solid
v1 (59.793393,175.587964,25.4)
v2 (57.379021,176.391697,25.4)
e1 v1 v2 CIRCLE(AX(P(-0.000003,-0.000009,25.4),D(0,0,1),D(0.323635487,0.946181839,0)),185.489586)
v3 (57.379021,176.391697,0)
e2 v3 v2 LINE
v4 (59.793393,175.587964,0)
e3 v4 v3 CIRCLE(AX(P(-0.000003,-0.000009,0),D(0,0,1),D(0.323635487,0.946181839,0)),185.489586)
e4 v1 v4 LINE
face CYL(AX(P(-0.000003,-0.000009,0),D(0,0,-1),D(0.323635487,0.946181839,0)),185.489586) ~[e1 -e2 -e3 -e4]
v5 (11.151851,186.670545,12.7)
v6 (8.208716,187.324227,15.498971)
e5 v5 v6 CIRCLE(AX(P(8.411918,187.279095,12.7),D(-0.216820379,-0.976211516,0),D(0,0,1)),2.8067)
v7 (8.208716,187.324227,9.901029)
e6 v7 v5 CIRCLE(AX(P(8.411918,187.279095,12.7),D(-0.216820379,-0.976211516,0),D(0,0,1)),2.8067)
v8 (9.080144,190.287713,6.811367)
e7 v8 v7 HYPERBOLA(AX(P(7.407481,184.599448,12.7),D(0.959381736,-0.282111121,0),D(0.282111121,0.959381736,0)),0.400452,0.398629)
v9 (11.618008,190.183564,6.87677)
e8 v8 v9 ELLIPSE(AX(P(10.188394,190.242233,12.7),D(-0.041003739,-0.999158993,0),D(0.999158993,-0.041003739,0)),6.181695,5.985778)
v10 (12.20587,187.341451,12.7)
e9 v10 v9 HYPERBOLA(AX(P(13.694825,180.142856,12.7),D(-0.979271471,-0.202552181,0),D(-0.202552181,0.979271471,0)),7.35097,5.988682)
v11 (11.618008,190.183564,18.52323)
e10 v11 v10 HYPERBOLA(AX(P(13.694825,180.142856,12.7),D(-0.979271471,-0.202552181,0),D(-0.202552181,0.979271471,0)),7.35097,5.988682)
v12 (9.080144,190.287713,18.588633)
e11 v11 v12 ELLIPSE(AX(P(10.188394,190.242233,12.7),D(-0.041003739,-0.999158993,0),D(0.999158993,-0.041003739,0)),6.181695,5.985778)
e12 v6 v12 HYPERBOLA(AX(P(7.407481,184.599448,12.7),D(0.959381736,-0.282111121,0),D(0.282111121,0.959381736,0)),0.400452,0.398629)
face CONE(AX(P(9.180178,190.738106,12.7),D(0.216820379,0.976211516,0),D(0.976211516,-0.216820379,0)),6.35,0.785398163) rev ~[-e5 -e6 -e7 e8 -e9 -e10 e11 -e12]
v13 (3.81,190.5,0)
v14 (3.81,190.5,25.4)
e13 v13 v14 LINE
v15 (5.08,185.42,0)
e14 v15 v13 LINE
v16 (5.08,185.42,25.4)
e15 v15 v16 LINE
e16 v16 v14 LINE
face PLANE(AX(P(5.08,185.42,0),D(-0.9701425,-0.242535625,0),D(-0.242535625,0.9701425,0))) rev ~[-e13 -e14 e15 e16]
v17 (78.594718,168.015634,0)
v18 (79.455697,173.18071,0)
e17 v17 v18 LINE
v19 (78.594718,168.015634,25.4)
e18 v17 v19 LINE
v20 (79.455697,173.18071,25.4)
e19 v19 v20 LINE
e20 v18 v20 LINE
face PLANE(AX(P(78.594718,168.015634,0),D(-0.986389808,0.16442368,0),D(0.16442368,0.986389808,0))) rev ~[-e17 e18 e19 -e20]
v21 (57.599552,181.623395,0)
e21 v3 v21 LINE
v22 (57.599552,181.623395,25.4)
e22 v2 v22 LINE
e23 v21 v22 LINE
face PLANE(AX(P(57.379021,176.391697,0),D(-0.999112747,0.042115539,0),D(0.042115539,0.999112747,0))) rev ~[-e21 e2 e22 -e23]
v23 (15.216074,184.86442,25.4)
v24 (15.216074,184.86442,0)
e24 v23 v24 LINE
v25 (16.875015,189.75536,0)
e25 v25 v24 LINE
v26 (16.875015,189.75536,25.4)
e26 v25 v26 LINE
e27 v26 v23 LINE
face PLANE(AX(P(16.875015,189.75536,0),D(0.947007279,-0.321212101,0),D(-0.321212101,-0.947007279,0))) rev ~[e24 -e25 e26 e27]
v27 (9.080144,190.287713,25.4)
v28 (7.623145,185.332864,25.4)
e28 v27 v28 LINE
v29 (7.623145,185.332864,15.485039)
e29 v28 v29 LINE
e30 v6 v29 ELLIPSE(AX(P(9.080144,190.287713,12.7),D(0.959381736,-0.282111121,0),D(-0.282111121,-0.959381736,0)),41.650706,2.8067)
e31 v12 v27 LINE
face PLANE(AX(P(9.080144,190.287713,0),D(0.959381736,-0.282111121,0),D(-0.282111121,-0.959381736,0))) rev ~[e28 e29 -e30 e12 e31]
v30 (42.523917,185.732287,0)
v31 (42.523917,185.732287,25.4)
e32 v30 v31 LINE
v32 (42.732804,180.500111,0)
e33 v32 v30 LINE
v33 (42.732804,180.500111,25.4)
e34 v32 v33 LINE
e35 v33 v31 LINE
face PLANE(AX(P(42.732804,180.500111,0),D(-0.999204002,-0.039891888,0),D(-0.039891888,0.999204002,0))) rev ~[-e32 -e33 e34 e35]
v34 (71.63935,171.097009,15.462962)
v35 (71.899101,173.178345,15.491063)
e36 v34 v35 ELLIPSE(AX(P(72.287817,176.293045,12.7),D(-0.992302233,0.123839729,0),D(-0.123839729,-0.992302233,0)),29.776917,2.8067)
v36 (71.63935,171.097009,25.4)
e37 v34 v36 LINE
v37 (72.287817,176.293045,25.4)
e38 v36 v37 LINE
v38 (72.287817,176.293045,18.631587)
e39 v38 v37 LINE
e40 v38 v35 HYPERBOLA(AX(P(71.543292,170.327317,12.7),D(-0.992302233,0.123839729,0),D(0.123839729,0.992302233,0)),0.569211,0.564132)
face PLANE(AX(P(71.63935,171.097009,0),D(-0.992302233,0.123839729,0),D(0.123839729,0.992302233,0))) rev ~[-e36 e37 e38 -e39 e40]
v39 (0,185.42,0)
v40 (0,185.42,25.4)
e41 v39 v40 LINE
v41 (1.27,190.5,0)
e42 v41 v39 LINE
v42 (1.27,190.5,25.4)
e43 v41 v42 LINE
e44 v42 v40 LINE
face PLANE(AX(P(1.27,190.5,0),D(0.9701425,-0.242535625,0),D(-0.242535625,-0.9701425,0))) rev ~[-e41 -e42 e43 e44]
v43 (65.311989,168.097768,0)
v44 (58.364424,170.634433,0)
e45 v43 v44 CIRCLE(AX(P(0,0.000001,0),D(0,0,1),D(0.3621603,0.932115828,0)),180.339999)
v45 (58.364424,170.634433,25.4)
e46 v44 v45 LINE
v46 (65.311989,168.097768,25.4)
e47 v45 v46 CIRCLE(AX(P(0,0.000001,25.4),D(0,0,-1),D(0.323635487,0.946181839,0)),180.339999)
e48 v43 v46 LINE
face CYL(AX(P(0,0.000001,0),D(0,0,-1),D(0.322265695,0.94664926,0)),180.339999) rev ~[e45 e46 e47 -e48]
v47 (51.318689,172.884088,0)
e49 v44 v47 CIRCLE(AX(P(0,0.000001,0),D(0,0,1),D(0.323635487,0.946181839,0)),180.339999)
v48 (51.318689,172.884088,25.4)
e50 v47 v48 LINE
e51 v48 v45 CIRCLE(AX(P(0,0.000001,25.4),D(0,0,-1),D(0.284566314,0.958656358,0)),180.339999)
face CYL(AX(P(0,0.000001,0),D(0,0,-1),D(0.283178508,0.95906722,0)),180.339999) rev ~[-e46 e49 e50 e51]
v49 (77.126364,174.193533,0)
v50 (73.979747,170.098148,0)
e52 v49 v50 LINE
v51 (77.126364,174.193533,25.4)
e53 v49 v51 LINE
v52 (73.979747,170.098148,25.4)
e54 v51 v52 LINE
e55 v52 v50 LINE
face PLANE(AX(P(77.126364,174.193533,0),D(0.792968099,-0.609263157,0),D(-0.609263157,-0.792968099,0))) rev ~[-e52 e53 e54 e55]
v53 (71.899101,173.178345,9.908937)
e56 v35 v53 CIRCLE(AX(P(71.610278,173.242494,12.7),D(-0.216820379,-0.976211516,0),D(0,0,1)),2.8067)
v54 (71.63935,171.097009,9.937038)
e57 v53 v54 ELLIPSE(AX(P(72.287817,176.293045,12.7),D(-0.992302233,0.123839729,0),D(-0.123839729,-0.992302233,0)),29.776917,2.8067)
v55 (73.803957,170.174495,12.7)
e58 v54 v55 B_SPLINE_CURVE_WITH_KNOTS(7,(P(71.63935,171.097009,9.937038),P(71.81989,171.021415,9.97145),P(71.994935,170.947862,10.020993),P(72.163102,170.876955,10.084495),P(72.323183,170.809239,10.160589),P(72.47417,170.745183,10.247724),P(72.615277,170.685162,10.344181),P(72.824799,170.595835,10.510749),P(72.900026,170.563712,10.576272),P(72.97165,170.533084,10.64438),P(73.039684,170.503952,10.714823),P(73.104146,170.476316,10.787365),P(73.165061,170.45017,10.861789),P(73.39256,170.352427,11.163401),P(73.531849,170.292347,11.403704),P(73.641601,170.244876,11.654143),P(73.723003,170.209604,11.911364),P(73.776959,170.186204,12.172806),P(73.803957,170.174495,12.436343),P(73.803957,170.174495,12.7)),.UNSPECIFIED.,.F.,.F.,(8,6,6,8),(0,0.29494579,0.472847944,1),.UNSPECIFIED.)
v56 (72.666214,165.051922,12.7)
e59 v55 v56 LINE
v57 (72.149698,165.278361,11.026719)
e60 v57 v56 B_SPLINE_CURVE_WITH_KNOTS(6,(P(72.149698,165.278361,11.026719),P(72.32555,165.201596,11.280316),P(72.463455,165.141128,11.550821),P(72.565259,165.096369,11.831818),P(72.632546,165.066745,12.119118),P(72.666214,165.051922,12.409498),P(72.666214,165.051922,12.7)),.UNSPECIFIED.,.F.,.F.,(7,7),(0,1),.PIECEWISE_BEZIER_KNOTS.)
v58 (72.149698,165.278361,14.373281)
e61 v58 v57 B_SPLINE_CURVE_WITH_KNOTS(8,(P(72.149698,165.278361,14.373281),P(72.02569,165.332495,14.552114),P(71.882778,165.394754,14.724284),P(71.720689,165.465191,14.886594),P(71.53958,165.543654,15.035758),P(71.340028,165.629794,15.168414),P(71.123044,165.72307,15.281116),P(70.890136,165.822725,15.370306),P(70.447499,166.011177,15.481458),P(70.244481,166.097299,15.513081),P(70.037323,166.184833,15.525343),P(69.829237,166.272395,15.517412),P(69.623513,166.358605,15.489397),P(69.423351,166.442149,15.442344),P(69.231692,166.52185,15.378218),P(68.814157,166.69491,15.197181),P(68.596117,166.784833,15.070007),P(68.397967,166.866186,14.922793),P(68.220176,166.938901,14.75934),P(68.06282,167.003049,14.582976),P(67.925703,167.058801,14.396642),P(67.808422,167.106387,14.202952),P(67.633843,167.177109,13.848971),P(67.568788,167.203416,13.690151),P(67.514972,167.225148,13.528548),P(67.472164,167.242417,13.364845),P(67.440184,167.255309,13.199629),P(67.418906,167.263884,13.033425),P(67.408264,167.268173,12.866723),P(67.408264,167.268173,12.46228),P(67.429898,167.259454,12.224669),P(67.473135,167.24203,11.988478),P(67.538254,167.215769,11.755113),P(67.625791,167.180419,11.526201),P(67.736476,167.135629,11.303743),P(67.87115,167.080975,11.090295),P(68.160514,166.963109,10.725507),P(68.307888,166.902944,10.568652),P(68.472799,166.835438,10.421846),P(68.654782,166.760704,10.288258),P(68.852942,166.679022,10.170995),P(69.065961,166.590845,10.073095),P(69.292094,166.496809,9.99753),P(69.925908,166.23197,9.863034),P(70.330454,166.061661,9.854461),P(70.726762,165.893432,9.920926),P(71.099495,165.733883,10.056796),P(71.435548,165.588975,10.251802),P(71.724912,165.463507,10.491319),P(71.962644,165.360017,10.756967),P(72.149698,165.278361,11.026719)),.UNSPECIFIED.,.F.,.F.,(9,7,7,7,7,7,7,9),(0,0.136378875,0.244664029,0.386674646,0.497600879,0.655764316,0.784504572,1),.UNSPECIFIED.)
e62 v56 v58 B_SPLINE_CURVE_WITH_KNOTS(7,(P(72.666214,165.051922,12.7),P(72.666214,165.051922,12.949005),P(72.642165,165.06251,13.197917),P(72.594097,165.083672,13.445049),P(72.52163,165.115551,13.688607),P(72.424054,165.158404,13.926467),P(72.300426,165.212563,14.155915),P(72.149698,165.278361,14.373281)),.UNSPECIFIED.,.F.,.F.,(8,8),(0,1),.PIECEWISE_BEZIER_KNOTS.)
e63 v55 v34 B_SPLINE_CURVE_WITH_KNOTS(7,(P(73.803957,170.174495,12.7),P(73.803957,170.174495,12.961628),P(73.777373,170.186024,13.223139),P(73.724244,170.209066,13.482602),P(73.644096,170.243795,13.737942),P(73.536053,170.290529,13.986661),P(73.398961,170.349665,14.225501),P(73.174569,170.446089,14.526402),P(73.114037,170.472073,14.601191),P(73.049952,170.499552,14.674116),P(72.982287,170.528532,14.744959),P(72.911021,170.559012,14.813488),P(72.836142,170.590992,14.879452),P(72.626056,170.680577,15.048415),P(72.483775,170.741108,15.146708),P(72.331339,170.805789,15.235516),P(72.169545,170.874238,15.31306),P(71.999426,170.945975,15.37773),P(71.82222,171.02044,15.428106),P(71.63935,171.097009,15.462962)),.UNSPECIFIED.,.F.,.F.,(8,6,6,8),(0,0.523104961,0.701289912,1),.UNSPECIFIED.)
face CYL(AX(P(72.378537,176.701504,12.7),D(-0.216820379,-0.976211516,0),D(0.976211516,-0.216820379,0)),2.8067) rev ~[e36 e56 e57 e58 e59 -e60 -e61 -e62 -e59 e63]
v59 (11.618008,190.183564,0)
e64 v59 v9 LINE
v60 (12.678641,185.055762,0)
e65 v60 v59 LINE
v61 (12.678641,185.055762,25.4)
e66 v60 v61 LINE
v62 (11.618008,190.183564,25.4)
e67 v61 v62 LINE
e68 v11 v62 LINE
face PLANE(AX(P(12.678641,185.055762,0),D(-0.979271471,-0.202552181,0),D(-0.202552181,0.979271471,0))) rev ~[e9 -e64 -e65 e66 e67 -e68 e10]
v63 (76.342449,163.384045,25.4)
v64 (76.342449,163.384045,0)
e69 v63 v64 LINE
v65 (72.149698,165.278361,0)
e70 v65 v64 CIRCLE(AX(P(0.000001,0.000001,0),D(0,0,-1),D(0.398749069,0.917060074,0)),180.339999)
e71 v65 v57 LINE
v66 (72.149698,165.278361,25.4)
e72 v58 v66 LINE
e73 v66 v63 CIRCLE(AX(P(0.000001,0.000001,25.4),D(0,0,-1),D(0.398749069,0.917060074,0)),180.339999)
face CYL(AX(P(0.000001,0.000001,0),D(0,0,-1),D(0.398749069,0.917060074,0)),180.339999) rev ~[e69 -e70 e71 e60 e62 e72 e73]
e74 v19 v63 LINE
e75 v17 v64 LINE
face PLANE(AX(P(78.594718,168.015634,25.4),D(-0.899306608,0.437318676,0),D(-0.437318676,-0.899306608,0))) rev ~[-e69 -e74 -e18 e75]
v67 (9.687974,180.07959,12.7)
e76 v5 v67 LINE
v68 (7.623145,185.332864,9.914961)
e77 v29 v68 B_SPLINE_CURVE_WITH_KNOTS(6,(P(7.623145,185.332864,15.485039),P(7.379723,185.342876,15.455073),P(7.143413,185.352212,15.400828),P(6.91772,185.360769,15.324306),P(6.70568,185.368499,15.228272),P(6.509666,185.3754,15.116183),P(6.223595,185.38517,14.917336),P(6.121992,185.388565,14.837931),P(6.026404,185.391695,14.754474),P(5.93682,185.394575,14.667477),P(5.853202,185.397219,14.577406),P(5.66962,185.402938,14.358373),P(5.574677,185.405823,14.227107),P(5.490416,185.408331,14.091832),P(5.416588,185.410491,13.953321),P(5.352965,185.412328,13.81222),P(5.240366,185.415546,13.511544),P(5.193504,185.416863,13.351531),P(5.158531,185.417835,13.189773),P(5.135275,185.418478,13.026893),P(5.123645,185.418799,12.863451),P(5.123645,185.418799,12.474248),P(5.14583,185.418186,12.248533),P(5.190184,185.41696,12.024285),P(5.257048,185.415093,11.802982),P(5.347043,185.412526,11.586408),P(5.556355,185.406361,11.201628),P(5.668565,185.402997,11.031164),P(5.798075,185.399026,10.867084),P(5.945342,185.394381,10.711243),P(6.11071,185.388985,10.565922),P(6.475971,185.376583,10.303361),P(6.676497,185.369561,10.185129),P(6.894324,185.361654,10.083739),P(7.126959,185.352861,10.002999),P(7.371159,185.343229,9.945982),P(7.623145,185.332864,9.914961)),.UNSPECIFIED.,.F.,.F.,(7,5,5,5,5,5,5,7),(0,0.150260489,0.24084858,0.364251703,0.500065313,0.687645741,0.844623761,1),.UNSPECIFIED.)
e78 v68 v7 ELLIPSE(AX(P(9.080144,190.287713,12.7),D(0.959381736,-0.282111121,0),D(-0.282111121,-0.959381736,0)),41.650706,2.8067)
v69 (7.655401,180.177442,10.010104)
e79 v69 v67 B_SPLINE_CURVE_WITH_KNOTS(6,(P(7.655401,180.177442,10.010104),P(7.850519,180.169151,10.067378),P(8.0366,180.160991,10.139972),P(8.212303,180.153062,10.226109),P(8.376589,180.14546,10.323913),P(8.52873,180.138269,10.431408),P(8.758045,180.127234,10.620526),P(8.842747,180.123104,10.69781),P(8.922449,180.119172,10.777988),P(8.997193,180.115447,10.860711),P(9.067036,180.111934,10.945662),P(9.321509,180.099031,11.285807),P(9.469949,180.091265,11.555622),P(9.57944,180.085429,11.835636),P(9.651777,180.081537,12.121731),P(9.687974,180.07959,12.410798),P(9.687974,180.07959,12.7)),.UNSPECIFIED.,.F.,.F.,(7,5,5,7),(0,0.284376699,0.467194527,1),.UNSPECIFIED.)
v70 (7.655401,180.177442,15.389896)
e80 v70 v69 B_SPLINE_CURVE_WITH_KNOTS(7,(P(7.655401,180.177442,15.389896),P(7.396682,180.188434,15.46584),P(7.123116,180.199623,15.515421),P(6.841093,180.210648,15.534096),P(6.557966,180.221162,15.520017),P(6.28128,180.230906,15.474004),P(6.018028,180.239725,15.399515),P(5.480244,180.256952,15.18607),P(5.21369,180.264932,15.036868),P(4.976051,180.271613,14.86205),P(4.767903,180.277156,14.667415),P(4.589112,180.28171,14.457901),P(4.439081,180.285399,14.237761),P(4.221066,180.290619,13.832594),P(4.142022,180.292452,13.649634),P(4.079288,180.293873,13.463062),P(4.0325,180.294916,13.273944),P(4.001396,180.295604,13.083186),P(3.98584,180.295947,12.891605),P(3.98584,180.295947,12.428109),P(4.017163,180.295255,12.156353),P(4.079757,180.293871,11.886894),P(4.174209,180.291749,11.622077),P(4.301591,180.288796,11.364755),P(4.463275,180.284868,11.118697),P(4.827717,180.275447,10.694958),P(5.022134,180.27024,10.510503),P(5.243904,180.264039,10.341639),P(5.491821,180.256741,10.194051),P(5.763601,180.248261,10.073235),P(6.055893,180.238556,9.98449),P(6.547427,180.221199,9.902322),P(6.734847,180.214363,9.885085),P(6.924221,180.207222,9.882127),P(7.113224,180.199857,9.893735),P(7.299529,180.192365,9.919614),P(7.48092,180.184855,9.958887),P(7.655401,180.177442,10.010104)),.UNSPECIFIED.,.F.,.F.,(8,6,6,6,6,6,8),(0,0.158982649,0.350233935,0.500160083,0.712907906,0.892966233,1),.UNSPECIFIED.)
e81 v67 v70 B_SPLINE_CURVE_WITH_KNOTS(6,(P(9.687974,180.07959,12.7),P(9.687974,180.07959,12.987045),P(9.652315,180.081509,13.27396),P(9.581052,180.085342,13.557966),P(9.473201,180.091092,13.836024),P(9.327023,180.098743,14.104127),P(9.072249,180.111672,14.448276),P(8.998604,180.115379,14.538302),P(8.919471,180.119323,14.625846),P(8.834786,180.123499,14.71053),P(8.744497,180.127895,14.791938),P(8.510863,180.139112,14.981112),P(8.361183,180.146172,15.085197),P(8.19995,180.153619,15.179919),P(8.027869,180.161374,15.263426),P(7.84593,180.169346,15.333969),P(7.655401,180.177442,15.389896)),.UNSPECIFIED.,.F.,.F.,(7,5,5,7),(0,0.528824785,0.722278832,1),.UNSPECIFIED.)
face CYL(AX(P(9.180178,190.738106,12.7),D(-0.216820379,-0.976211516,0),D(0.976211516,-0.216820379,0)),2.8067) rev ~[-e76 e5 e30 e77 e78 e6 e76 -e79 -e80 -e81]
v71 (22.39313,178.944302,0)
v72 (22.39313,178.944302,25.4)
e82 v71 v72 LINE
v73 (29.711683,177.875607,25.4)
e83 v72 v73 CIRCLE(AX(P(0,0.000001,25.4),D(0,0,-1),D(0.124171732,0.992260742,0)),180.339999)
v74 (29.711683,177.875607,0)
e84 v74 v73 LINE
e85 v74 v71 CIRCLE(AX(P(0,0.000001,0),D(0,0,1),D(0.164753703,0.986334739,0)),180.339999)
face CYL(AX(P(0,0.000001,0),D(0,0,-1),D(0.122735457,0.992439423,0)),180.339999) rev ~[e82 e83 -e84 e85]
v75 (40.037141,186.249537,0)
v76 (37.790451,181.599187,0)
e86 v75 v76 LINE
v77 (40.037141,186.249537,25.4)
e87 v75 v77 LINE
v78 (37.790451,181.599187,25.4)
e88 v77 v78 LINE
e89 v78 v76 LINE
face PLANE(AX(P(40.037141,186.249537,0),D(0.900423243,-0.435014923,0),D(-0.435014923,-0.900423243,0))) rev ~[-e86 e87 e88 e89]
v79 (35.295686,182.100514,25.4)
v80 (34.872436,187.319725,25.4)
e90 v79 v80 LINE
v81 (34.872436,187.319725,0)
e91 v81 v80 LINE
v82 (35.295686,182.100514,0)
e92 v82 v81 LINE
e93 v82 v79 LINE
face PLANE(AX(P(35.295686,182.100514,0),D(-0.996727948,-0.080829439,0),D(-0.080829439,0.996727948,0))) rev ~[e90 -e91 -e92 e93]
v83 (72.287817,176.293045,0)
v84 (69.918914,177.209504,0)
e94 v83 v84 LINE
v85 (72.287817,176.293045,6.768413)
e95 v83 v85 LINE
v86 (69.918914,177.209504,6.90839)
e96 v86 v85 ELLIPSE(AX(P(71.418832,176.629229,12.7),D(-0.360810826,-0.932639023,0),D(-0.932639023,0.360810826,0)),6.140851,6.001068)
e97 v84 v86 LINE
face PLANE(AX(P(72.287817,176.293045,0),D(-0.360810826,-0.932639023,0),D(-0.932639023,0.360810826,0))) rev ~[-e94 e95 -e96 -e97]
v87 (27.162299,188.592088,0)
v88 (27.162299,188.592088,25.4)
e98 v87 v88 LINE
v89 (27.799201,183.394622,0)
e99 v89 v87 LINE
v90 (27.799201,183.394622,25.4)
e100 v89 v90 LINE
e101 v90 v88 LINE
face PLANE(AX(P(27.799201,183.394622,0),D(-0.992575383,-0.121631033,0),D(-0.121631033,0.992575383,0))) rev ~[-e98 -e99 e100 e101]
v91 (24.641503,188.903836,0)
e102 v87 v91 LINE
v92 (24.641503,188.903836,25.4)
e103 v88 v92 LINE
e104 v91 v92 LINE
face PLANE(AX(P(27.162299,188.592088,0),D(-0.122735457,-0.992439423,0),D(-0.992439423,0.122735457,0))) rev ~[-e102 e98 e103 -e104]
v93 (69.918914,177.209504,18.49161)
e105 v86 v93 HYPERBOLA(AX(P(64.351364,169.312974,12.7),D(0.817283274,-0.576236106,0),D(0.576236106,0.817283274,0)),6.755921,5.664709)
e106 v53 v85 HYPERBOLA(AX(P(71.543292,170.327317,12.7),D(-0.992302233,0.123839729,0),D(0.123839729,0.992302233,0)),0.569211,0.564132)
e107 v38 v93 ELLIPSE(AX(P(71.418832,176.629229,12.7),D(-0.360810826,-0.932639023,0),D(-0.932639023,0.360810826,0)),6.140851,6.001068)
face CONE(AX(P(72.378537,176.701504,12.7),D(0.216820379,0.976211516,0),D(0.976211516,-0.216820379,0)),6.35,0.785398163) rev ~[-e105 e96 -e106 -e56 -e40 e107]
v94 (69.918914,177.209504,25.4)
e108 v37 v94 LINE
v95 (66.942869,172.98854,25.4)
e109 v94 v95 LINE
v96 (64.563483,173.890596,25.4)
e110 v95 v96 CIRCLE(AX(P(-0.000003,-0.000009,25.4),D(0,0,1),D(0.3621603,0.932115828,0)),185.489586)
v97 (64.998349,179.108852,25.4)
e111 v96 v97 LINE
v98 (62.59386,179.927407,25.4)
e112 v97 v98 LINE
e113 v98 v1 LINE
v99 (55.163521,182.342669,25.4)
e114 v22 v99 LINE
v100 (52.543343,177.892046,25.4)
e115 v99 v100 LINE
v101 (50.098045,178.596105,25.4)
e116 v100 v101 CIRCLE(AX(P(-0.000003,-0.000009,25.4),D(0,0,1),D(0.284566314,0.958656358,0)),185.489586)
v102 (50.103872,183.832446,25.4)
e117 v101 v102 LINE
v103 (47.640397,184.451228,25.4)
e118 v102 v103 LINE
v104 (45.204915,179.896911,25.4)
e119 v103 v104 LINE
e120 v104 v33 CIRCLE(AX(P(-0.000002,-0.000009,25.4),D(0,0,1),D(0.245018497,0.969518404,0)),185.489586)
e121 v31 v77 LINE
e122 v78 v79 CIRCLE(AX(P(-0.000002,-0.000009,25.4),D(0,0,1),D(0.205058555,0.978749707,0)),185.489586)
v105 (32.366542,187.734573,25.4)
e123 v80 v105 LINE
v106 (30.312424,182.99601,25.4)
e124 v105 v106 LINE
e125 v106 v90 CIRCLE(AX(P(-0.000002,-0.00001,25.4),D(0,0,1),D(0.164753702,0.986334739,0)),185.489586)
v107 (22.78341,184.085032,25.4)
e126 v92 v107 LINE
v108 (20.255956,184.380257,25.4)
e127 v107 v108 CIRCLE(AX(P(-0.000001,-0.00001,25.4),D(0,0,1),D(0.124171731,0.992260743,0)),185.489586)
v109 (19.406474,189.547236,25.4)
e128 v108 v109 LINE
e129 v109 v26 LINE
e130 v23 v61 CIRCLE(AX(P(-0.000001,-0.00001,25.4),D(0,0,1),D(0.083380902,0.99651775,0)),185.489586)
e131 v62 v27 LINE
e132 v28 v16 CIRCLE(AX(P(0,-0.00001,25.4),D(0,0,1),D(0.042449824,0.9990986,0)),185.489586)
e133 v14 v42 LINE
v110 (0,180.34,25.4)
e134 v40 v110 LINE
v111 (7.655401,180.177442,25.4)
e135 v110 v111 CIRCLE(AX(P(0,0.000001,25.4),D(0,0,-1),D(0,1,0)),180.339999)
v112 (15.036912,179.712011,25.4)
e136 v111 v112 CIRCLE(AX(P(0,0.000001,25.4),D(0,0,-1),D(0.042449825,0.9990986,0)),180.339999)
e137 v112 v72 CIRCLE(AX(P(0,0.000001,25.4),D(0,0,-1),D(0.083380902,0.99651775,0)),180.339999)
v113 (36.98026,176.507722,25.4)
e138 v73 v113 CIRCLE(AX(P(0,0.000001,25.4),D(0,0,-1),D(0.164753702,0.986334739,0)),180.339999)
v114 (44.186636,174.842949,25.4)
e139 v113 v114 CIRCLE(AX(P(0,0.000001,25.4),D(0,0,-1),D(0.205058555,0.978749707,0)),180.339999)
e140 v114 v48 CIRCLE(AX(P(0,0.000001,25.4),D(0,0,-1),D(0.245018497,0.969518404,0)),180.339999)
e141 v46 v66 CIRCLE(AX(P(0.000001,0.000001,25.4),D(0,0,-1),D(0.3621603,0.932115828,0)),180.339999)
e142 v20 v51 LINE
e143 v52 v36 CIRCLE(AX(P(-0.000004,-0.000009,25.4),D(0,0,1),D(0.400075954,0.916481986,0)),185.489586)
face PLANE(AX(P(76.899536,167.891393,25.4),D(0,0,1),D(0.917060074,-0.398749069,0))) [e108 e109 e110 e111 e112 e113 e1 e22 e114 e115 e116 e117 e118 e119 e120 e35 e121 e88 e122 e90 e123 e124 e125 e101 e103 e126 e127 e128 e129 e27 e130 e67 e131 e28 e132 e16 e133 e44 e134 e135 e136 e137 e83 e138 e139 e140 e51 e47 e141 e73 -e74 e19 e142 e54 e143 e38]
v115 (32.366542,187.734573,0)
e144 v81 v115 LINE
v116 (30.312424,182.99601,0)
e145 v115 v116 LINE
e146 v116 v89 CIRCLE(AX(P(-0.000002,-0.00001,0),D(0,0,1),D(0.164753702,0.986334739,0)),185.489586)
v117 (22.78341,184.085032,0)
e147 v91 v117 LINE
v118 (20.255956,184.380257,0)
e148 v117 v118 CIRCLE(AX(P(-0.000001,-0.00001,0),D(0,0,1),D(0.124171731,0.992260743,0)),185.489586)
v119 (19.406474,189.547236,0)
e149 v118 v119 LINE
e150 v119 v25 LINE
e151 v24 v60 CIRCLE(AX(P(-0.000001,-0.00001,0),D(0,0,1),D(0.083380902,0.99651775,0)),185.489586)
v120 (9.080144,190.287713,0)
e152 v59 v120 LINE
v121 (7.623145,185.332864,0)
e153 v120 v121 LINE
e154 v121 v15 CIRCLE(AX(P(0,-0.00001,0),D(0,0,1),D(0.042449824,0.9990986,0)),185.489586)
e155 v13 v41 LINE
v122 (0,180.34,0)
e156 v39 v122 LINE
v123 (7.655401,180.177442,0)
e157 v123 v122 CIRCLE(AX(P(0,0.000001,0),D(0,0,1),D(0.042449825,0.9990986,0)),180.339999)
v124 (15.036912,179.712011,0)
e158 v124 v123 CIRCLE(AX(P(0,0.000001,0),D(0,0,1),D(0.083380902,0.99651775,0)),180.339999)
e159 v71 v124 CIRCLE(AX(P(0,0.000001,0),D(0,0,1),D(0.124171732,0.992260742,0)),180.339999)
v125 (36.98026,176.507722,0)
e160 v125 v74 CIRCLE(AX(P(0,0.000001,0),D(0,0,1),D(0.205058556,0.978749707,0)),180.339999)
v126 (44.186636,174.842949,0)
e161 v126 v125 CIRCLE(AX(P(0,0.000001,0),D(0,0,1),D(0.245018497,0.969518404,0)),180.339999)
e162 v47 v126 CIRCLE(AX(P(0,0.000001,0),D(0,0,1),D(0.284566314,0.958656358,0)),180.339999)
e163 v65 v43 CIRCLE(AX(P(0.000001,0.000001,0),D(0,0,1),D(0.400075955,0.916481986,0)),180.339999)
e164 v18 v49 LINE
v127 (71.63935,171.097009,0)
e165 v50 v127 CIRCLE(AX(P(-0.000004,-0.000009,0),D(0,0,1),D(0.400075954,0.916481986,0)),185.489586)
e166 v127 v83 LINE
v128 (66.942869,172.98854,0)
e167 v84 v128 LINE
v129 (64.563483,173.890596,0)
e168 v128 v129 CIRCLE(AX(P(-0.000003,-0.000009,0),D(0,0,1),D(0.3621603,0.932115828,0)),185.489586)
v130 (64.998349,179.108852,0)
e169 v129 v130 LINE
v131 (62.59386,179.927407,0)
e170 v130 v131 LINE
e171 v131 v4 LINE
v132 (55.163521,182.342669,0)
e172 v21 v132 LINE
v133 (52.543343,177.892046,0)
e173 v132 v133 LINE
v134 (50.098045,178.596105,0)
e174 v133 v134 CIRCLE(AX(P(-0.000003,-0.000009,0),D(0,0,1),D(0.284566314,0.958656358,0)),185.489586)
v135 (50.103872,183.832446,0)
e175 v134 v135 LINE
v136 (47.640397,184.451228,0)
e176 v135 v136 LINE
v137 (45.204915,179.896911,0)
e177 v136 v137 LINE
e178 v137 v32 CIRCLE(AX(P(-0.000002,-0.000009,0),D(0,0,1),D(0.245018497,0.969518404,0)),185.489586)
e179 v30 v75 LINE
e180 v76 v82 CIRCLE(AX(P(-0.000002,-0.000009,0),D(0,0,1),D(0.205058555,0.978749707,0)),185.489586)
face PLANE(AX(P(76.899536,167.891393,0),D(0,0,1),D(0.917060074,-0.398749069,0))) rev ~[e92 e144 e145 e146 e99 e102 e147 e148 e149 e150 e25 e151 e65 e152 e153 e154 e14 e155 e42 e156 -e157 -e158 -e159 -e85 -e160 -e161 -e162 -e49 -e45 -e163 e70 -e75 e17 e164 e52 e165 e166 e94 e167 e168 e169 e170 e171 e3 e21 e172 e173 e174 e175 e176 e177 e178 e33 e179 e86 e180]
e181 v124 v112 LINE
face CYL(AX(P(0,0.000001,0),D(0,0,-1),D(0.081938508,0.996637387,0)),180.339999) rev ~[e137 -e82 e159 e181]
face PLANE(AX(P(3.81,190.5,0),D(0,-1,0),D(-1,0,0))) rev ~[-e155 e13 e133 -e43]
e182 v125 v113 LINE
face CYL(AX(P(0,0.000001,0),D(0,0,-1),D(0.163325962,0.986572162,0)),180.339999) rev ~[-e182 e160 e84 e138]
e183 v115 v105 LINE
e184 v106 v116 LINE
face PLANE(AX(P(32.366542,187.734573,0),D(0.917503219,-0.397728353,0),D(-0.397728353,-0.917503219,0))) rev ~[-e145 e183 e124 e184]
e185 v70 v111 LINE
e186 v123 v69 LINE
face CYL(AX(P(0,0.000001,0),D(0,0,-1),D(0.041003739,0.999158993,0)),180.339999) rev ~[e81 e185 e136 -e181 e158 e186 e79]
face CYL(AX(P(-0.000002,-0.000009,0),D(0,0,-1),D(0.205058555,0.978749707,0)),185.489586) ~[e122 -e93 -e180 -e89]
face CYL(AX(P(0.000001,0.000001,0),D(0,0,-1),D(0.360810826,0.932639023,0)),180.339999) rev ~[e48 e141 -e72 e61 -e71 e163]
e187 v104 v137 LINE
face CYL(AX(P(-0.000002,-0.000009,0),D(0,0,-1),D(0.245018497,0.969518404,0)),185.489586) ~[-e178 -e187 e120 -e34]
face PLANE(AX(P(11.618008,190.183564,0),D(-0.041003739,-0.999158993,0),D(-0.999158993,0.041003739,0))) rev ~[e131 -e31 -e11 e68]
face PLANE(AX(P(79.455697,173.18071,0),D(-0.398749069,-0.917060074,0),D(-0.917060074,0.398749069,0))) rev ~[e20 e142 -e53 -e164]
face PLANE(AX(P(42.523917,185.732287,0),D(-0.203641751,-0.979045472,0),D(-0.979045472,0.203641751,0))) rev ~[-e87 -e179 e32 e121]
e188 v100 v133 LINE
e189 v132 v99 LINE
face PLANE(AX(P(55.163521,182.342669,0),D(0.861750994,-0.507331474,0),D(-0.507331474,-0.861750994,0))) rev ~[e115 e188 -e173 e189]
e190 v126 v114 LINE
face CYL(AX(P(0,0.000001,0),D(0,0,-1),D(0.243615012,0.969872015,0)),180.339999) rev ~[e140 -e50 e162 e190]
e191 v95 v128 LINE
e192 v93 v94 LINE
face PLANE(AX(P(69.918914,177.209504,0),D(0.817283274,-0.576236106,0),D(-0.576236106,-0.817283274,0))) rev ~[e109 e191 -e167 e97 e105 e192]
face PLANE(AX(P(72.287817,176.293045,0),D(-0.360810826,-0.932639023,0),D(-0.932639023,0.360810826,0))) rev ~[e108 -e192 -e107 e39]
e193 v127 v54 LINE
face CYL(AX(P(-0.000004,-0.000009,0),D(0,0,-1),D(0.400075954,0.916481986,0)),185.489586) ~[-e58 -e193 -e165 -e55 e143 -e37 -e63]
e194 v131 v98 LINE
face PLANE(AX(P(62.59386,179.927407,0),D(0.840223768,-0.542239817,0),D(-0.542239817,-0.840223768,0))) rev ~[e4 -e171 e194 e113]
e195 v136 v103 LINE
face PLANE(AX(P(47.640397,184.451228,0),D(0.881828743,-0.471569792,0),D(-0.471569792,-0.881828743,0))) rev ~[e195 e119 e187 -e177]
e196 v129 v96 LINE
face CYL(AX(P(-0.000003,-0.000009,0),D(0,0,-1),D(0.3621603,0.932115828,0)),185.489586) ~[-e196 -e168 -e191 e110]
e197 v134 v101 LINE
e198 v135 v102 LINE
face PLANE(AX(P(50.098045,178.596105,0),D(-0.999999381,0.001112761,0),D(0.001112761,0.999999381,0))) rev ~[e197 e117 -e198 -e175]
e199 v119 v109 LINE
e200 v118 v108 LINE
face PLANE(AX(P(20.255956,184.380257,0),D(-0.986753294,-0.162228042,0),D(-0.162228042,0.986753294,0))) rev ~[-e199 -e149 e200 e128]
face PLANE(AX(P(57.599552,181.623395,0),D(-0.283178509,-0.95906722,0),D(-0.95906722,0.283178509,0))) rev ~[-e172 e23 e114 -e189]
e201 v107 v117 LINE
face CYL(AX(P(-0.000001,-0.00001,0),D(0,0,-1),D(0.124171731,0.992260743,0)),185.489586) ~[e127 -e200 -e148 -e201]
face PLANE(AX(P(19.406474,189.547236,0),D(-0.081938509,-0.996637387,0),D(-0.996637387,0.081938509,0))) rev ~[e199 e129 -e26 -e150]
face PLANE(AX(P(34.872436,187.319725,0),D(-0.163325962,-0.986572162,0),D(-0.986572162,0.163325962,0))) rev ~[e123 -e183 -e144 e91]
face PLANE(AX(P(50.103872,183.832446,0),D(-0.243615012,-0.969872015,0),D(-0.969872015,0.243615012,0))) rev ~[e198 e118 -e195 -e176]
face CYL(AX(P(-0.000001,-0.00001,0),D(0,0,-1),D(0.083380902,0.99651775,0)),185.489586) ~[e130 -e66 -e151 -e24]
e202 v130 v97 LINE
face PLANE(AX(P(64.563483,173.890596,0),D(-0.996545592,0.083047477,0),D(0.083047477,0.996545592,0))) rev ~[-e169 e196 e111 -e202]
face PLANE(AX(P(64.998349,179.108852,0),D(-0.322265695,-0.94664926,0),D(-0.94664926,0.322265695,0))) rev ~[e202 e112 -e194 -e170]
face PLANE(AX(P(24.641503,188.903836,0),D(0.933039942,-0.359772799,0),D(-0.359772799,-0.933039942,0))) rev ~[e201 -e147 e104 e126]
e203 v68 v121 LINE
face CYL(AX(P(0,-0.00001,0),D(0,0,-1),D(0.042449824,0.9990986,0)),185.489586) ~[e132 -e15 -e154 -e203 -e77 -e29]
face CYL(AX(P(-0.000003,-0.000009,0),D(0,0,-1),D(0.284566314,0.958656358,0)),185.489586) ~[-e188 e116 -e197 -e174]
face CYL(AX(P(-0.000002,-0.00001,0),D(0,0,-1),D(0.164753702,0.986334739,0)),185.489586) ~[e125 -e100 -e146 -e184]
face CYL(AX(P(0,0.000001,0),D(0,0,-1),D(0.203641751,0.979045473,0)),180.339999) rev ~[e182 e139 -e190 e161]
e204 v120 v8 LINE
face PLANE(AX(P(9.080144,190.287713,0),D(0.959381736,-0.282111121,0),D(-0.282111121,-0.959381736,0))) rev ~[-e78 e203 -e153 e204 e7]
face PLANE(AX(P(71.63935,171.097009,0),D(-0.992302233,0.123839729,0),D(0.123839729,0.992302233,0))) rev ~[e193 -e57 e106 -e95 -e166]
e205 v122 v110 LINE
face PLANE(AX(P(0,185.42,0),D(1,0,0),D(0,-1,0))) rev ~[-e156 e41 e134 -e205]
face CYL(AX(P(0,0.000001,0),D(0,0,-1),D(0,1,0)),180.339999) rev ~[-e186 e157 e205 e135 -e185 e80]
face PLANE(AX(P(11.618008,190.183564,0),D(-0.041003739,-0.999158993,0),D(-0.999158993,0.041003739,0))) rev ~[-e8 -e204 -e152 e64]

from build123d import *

# Parameters (mm, degrees)
BOSS_EXTRUDE1_DEPTH                                = 25.4
CIRPATTERN2_COUNT                                  = 11
CIRPATTERN2_ANGLE                                  = 23.5
CUT_EXTRUDE2_START                                 = -25.4
CUT_EXTRUDE2_DEPTH                                 = 25.4
CSK_FOR_10_FLAT_HEAD_MACHINE_SCREW_100_D           = 5.6134
CSK_FOR_10_FLAT_HEAD_MACHINE_SCREW_100_CSINK_D     = 12.7
CSK_FOR_10_FLAT_HEAD_MACHINE_SCREW_100_CSINK_ANGLE = 90


with BuildPart() as part:
    # Sketch1 → Boss-Extrude1 (new body)
    with BuildSketch(Plane.XY):
        with BuildLine():
            Line((1.27, 190.5), (0, 185.42))
            Line((0, 185.42), (0, 180.34))
            ThreePointArc((0, 180.34), (3.828563565, 180.299355798), (7.655401402, 180.177441511))
            Line((7.655401402, 180.177441511), (7.874, 185.32237567))
            ThreePointArc((7.874, 185.32237567), (6.477183927, 185.376451817), (5.08, 185.42))
            Line((5.08, 185.42), (3.81, 190.5))
            Line((3.81, 190.5), (1.27, 190.5))
        make_face()
    boss_extrude1 = extrude(amount=BOSS_EXTRUDE1_DEPTH)

    # CirPattern2: Boss-Extrude1 ×11 about axis
    cirpattern2_axis = Axis((0, 0, 26.67), (0, 0, -1))
    for i in range(1, CIRPATTERN2_COUNT):
        add(boss_extrude1.rotate(cirpattern2_axis, i * CIRPATTERN2_ANGLE / (CIRPATTERN2_COUNT - 1)))

    # Sketch4 → Cut-Extrude2 (cut)
    with BuildSketch(Plane.XY.offset(25.4).offset(CUT_EXTRUDE2_START)):
        with BuildLine():
            Line((78.866050023, 162.180953733), (81.118055775, 166.812001449))
            ThreePointArc((81.118055775, 166.812001449), (79.858654337, 167.418571633), (78.594717538, 168.015633722))
            Line((78.594717538, 168.015633722), (76.34244866, 163.384044914))
            ThreePointArc((76.34244866, 163.384044914), (77.606580732, 162.787389644), (78.866050023, 162.180953733))
        make_face()
    extrude(amount=CUT_EXTRUDE2_DEPTH, mode=Mode.SUBTRACT)

    # CSK for #10 Flat Head Machine Screw (100)1 (through all)
    with Locations(Plane(origin=(40.80368391, 183.714401712, 0), x_dir=(-0.9762115157391993, 0.2168203785122032, 0), z_dir=(0.21682037851220323, 0.9762115157391994, -6.9829626776862675e-15))):
        with Locations((-32.344274852, 12.7), (32.394112766, 12.7)):
            CounterSinkHole(CSK_FOR_10_FLAT_HEAD_MACHINE_SCREW_100_D / 2, CSK_FOR_10_FLAT_HEAD_MACHINE_SCREW_100_CSINK_D / 2, counter_sink_angle=CSK_FOR_10_FLAT_HEAD_MACHINE_SCREW_100_CSINK_ANGLE)


solid = part.part
